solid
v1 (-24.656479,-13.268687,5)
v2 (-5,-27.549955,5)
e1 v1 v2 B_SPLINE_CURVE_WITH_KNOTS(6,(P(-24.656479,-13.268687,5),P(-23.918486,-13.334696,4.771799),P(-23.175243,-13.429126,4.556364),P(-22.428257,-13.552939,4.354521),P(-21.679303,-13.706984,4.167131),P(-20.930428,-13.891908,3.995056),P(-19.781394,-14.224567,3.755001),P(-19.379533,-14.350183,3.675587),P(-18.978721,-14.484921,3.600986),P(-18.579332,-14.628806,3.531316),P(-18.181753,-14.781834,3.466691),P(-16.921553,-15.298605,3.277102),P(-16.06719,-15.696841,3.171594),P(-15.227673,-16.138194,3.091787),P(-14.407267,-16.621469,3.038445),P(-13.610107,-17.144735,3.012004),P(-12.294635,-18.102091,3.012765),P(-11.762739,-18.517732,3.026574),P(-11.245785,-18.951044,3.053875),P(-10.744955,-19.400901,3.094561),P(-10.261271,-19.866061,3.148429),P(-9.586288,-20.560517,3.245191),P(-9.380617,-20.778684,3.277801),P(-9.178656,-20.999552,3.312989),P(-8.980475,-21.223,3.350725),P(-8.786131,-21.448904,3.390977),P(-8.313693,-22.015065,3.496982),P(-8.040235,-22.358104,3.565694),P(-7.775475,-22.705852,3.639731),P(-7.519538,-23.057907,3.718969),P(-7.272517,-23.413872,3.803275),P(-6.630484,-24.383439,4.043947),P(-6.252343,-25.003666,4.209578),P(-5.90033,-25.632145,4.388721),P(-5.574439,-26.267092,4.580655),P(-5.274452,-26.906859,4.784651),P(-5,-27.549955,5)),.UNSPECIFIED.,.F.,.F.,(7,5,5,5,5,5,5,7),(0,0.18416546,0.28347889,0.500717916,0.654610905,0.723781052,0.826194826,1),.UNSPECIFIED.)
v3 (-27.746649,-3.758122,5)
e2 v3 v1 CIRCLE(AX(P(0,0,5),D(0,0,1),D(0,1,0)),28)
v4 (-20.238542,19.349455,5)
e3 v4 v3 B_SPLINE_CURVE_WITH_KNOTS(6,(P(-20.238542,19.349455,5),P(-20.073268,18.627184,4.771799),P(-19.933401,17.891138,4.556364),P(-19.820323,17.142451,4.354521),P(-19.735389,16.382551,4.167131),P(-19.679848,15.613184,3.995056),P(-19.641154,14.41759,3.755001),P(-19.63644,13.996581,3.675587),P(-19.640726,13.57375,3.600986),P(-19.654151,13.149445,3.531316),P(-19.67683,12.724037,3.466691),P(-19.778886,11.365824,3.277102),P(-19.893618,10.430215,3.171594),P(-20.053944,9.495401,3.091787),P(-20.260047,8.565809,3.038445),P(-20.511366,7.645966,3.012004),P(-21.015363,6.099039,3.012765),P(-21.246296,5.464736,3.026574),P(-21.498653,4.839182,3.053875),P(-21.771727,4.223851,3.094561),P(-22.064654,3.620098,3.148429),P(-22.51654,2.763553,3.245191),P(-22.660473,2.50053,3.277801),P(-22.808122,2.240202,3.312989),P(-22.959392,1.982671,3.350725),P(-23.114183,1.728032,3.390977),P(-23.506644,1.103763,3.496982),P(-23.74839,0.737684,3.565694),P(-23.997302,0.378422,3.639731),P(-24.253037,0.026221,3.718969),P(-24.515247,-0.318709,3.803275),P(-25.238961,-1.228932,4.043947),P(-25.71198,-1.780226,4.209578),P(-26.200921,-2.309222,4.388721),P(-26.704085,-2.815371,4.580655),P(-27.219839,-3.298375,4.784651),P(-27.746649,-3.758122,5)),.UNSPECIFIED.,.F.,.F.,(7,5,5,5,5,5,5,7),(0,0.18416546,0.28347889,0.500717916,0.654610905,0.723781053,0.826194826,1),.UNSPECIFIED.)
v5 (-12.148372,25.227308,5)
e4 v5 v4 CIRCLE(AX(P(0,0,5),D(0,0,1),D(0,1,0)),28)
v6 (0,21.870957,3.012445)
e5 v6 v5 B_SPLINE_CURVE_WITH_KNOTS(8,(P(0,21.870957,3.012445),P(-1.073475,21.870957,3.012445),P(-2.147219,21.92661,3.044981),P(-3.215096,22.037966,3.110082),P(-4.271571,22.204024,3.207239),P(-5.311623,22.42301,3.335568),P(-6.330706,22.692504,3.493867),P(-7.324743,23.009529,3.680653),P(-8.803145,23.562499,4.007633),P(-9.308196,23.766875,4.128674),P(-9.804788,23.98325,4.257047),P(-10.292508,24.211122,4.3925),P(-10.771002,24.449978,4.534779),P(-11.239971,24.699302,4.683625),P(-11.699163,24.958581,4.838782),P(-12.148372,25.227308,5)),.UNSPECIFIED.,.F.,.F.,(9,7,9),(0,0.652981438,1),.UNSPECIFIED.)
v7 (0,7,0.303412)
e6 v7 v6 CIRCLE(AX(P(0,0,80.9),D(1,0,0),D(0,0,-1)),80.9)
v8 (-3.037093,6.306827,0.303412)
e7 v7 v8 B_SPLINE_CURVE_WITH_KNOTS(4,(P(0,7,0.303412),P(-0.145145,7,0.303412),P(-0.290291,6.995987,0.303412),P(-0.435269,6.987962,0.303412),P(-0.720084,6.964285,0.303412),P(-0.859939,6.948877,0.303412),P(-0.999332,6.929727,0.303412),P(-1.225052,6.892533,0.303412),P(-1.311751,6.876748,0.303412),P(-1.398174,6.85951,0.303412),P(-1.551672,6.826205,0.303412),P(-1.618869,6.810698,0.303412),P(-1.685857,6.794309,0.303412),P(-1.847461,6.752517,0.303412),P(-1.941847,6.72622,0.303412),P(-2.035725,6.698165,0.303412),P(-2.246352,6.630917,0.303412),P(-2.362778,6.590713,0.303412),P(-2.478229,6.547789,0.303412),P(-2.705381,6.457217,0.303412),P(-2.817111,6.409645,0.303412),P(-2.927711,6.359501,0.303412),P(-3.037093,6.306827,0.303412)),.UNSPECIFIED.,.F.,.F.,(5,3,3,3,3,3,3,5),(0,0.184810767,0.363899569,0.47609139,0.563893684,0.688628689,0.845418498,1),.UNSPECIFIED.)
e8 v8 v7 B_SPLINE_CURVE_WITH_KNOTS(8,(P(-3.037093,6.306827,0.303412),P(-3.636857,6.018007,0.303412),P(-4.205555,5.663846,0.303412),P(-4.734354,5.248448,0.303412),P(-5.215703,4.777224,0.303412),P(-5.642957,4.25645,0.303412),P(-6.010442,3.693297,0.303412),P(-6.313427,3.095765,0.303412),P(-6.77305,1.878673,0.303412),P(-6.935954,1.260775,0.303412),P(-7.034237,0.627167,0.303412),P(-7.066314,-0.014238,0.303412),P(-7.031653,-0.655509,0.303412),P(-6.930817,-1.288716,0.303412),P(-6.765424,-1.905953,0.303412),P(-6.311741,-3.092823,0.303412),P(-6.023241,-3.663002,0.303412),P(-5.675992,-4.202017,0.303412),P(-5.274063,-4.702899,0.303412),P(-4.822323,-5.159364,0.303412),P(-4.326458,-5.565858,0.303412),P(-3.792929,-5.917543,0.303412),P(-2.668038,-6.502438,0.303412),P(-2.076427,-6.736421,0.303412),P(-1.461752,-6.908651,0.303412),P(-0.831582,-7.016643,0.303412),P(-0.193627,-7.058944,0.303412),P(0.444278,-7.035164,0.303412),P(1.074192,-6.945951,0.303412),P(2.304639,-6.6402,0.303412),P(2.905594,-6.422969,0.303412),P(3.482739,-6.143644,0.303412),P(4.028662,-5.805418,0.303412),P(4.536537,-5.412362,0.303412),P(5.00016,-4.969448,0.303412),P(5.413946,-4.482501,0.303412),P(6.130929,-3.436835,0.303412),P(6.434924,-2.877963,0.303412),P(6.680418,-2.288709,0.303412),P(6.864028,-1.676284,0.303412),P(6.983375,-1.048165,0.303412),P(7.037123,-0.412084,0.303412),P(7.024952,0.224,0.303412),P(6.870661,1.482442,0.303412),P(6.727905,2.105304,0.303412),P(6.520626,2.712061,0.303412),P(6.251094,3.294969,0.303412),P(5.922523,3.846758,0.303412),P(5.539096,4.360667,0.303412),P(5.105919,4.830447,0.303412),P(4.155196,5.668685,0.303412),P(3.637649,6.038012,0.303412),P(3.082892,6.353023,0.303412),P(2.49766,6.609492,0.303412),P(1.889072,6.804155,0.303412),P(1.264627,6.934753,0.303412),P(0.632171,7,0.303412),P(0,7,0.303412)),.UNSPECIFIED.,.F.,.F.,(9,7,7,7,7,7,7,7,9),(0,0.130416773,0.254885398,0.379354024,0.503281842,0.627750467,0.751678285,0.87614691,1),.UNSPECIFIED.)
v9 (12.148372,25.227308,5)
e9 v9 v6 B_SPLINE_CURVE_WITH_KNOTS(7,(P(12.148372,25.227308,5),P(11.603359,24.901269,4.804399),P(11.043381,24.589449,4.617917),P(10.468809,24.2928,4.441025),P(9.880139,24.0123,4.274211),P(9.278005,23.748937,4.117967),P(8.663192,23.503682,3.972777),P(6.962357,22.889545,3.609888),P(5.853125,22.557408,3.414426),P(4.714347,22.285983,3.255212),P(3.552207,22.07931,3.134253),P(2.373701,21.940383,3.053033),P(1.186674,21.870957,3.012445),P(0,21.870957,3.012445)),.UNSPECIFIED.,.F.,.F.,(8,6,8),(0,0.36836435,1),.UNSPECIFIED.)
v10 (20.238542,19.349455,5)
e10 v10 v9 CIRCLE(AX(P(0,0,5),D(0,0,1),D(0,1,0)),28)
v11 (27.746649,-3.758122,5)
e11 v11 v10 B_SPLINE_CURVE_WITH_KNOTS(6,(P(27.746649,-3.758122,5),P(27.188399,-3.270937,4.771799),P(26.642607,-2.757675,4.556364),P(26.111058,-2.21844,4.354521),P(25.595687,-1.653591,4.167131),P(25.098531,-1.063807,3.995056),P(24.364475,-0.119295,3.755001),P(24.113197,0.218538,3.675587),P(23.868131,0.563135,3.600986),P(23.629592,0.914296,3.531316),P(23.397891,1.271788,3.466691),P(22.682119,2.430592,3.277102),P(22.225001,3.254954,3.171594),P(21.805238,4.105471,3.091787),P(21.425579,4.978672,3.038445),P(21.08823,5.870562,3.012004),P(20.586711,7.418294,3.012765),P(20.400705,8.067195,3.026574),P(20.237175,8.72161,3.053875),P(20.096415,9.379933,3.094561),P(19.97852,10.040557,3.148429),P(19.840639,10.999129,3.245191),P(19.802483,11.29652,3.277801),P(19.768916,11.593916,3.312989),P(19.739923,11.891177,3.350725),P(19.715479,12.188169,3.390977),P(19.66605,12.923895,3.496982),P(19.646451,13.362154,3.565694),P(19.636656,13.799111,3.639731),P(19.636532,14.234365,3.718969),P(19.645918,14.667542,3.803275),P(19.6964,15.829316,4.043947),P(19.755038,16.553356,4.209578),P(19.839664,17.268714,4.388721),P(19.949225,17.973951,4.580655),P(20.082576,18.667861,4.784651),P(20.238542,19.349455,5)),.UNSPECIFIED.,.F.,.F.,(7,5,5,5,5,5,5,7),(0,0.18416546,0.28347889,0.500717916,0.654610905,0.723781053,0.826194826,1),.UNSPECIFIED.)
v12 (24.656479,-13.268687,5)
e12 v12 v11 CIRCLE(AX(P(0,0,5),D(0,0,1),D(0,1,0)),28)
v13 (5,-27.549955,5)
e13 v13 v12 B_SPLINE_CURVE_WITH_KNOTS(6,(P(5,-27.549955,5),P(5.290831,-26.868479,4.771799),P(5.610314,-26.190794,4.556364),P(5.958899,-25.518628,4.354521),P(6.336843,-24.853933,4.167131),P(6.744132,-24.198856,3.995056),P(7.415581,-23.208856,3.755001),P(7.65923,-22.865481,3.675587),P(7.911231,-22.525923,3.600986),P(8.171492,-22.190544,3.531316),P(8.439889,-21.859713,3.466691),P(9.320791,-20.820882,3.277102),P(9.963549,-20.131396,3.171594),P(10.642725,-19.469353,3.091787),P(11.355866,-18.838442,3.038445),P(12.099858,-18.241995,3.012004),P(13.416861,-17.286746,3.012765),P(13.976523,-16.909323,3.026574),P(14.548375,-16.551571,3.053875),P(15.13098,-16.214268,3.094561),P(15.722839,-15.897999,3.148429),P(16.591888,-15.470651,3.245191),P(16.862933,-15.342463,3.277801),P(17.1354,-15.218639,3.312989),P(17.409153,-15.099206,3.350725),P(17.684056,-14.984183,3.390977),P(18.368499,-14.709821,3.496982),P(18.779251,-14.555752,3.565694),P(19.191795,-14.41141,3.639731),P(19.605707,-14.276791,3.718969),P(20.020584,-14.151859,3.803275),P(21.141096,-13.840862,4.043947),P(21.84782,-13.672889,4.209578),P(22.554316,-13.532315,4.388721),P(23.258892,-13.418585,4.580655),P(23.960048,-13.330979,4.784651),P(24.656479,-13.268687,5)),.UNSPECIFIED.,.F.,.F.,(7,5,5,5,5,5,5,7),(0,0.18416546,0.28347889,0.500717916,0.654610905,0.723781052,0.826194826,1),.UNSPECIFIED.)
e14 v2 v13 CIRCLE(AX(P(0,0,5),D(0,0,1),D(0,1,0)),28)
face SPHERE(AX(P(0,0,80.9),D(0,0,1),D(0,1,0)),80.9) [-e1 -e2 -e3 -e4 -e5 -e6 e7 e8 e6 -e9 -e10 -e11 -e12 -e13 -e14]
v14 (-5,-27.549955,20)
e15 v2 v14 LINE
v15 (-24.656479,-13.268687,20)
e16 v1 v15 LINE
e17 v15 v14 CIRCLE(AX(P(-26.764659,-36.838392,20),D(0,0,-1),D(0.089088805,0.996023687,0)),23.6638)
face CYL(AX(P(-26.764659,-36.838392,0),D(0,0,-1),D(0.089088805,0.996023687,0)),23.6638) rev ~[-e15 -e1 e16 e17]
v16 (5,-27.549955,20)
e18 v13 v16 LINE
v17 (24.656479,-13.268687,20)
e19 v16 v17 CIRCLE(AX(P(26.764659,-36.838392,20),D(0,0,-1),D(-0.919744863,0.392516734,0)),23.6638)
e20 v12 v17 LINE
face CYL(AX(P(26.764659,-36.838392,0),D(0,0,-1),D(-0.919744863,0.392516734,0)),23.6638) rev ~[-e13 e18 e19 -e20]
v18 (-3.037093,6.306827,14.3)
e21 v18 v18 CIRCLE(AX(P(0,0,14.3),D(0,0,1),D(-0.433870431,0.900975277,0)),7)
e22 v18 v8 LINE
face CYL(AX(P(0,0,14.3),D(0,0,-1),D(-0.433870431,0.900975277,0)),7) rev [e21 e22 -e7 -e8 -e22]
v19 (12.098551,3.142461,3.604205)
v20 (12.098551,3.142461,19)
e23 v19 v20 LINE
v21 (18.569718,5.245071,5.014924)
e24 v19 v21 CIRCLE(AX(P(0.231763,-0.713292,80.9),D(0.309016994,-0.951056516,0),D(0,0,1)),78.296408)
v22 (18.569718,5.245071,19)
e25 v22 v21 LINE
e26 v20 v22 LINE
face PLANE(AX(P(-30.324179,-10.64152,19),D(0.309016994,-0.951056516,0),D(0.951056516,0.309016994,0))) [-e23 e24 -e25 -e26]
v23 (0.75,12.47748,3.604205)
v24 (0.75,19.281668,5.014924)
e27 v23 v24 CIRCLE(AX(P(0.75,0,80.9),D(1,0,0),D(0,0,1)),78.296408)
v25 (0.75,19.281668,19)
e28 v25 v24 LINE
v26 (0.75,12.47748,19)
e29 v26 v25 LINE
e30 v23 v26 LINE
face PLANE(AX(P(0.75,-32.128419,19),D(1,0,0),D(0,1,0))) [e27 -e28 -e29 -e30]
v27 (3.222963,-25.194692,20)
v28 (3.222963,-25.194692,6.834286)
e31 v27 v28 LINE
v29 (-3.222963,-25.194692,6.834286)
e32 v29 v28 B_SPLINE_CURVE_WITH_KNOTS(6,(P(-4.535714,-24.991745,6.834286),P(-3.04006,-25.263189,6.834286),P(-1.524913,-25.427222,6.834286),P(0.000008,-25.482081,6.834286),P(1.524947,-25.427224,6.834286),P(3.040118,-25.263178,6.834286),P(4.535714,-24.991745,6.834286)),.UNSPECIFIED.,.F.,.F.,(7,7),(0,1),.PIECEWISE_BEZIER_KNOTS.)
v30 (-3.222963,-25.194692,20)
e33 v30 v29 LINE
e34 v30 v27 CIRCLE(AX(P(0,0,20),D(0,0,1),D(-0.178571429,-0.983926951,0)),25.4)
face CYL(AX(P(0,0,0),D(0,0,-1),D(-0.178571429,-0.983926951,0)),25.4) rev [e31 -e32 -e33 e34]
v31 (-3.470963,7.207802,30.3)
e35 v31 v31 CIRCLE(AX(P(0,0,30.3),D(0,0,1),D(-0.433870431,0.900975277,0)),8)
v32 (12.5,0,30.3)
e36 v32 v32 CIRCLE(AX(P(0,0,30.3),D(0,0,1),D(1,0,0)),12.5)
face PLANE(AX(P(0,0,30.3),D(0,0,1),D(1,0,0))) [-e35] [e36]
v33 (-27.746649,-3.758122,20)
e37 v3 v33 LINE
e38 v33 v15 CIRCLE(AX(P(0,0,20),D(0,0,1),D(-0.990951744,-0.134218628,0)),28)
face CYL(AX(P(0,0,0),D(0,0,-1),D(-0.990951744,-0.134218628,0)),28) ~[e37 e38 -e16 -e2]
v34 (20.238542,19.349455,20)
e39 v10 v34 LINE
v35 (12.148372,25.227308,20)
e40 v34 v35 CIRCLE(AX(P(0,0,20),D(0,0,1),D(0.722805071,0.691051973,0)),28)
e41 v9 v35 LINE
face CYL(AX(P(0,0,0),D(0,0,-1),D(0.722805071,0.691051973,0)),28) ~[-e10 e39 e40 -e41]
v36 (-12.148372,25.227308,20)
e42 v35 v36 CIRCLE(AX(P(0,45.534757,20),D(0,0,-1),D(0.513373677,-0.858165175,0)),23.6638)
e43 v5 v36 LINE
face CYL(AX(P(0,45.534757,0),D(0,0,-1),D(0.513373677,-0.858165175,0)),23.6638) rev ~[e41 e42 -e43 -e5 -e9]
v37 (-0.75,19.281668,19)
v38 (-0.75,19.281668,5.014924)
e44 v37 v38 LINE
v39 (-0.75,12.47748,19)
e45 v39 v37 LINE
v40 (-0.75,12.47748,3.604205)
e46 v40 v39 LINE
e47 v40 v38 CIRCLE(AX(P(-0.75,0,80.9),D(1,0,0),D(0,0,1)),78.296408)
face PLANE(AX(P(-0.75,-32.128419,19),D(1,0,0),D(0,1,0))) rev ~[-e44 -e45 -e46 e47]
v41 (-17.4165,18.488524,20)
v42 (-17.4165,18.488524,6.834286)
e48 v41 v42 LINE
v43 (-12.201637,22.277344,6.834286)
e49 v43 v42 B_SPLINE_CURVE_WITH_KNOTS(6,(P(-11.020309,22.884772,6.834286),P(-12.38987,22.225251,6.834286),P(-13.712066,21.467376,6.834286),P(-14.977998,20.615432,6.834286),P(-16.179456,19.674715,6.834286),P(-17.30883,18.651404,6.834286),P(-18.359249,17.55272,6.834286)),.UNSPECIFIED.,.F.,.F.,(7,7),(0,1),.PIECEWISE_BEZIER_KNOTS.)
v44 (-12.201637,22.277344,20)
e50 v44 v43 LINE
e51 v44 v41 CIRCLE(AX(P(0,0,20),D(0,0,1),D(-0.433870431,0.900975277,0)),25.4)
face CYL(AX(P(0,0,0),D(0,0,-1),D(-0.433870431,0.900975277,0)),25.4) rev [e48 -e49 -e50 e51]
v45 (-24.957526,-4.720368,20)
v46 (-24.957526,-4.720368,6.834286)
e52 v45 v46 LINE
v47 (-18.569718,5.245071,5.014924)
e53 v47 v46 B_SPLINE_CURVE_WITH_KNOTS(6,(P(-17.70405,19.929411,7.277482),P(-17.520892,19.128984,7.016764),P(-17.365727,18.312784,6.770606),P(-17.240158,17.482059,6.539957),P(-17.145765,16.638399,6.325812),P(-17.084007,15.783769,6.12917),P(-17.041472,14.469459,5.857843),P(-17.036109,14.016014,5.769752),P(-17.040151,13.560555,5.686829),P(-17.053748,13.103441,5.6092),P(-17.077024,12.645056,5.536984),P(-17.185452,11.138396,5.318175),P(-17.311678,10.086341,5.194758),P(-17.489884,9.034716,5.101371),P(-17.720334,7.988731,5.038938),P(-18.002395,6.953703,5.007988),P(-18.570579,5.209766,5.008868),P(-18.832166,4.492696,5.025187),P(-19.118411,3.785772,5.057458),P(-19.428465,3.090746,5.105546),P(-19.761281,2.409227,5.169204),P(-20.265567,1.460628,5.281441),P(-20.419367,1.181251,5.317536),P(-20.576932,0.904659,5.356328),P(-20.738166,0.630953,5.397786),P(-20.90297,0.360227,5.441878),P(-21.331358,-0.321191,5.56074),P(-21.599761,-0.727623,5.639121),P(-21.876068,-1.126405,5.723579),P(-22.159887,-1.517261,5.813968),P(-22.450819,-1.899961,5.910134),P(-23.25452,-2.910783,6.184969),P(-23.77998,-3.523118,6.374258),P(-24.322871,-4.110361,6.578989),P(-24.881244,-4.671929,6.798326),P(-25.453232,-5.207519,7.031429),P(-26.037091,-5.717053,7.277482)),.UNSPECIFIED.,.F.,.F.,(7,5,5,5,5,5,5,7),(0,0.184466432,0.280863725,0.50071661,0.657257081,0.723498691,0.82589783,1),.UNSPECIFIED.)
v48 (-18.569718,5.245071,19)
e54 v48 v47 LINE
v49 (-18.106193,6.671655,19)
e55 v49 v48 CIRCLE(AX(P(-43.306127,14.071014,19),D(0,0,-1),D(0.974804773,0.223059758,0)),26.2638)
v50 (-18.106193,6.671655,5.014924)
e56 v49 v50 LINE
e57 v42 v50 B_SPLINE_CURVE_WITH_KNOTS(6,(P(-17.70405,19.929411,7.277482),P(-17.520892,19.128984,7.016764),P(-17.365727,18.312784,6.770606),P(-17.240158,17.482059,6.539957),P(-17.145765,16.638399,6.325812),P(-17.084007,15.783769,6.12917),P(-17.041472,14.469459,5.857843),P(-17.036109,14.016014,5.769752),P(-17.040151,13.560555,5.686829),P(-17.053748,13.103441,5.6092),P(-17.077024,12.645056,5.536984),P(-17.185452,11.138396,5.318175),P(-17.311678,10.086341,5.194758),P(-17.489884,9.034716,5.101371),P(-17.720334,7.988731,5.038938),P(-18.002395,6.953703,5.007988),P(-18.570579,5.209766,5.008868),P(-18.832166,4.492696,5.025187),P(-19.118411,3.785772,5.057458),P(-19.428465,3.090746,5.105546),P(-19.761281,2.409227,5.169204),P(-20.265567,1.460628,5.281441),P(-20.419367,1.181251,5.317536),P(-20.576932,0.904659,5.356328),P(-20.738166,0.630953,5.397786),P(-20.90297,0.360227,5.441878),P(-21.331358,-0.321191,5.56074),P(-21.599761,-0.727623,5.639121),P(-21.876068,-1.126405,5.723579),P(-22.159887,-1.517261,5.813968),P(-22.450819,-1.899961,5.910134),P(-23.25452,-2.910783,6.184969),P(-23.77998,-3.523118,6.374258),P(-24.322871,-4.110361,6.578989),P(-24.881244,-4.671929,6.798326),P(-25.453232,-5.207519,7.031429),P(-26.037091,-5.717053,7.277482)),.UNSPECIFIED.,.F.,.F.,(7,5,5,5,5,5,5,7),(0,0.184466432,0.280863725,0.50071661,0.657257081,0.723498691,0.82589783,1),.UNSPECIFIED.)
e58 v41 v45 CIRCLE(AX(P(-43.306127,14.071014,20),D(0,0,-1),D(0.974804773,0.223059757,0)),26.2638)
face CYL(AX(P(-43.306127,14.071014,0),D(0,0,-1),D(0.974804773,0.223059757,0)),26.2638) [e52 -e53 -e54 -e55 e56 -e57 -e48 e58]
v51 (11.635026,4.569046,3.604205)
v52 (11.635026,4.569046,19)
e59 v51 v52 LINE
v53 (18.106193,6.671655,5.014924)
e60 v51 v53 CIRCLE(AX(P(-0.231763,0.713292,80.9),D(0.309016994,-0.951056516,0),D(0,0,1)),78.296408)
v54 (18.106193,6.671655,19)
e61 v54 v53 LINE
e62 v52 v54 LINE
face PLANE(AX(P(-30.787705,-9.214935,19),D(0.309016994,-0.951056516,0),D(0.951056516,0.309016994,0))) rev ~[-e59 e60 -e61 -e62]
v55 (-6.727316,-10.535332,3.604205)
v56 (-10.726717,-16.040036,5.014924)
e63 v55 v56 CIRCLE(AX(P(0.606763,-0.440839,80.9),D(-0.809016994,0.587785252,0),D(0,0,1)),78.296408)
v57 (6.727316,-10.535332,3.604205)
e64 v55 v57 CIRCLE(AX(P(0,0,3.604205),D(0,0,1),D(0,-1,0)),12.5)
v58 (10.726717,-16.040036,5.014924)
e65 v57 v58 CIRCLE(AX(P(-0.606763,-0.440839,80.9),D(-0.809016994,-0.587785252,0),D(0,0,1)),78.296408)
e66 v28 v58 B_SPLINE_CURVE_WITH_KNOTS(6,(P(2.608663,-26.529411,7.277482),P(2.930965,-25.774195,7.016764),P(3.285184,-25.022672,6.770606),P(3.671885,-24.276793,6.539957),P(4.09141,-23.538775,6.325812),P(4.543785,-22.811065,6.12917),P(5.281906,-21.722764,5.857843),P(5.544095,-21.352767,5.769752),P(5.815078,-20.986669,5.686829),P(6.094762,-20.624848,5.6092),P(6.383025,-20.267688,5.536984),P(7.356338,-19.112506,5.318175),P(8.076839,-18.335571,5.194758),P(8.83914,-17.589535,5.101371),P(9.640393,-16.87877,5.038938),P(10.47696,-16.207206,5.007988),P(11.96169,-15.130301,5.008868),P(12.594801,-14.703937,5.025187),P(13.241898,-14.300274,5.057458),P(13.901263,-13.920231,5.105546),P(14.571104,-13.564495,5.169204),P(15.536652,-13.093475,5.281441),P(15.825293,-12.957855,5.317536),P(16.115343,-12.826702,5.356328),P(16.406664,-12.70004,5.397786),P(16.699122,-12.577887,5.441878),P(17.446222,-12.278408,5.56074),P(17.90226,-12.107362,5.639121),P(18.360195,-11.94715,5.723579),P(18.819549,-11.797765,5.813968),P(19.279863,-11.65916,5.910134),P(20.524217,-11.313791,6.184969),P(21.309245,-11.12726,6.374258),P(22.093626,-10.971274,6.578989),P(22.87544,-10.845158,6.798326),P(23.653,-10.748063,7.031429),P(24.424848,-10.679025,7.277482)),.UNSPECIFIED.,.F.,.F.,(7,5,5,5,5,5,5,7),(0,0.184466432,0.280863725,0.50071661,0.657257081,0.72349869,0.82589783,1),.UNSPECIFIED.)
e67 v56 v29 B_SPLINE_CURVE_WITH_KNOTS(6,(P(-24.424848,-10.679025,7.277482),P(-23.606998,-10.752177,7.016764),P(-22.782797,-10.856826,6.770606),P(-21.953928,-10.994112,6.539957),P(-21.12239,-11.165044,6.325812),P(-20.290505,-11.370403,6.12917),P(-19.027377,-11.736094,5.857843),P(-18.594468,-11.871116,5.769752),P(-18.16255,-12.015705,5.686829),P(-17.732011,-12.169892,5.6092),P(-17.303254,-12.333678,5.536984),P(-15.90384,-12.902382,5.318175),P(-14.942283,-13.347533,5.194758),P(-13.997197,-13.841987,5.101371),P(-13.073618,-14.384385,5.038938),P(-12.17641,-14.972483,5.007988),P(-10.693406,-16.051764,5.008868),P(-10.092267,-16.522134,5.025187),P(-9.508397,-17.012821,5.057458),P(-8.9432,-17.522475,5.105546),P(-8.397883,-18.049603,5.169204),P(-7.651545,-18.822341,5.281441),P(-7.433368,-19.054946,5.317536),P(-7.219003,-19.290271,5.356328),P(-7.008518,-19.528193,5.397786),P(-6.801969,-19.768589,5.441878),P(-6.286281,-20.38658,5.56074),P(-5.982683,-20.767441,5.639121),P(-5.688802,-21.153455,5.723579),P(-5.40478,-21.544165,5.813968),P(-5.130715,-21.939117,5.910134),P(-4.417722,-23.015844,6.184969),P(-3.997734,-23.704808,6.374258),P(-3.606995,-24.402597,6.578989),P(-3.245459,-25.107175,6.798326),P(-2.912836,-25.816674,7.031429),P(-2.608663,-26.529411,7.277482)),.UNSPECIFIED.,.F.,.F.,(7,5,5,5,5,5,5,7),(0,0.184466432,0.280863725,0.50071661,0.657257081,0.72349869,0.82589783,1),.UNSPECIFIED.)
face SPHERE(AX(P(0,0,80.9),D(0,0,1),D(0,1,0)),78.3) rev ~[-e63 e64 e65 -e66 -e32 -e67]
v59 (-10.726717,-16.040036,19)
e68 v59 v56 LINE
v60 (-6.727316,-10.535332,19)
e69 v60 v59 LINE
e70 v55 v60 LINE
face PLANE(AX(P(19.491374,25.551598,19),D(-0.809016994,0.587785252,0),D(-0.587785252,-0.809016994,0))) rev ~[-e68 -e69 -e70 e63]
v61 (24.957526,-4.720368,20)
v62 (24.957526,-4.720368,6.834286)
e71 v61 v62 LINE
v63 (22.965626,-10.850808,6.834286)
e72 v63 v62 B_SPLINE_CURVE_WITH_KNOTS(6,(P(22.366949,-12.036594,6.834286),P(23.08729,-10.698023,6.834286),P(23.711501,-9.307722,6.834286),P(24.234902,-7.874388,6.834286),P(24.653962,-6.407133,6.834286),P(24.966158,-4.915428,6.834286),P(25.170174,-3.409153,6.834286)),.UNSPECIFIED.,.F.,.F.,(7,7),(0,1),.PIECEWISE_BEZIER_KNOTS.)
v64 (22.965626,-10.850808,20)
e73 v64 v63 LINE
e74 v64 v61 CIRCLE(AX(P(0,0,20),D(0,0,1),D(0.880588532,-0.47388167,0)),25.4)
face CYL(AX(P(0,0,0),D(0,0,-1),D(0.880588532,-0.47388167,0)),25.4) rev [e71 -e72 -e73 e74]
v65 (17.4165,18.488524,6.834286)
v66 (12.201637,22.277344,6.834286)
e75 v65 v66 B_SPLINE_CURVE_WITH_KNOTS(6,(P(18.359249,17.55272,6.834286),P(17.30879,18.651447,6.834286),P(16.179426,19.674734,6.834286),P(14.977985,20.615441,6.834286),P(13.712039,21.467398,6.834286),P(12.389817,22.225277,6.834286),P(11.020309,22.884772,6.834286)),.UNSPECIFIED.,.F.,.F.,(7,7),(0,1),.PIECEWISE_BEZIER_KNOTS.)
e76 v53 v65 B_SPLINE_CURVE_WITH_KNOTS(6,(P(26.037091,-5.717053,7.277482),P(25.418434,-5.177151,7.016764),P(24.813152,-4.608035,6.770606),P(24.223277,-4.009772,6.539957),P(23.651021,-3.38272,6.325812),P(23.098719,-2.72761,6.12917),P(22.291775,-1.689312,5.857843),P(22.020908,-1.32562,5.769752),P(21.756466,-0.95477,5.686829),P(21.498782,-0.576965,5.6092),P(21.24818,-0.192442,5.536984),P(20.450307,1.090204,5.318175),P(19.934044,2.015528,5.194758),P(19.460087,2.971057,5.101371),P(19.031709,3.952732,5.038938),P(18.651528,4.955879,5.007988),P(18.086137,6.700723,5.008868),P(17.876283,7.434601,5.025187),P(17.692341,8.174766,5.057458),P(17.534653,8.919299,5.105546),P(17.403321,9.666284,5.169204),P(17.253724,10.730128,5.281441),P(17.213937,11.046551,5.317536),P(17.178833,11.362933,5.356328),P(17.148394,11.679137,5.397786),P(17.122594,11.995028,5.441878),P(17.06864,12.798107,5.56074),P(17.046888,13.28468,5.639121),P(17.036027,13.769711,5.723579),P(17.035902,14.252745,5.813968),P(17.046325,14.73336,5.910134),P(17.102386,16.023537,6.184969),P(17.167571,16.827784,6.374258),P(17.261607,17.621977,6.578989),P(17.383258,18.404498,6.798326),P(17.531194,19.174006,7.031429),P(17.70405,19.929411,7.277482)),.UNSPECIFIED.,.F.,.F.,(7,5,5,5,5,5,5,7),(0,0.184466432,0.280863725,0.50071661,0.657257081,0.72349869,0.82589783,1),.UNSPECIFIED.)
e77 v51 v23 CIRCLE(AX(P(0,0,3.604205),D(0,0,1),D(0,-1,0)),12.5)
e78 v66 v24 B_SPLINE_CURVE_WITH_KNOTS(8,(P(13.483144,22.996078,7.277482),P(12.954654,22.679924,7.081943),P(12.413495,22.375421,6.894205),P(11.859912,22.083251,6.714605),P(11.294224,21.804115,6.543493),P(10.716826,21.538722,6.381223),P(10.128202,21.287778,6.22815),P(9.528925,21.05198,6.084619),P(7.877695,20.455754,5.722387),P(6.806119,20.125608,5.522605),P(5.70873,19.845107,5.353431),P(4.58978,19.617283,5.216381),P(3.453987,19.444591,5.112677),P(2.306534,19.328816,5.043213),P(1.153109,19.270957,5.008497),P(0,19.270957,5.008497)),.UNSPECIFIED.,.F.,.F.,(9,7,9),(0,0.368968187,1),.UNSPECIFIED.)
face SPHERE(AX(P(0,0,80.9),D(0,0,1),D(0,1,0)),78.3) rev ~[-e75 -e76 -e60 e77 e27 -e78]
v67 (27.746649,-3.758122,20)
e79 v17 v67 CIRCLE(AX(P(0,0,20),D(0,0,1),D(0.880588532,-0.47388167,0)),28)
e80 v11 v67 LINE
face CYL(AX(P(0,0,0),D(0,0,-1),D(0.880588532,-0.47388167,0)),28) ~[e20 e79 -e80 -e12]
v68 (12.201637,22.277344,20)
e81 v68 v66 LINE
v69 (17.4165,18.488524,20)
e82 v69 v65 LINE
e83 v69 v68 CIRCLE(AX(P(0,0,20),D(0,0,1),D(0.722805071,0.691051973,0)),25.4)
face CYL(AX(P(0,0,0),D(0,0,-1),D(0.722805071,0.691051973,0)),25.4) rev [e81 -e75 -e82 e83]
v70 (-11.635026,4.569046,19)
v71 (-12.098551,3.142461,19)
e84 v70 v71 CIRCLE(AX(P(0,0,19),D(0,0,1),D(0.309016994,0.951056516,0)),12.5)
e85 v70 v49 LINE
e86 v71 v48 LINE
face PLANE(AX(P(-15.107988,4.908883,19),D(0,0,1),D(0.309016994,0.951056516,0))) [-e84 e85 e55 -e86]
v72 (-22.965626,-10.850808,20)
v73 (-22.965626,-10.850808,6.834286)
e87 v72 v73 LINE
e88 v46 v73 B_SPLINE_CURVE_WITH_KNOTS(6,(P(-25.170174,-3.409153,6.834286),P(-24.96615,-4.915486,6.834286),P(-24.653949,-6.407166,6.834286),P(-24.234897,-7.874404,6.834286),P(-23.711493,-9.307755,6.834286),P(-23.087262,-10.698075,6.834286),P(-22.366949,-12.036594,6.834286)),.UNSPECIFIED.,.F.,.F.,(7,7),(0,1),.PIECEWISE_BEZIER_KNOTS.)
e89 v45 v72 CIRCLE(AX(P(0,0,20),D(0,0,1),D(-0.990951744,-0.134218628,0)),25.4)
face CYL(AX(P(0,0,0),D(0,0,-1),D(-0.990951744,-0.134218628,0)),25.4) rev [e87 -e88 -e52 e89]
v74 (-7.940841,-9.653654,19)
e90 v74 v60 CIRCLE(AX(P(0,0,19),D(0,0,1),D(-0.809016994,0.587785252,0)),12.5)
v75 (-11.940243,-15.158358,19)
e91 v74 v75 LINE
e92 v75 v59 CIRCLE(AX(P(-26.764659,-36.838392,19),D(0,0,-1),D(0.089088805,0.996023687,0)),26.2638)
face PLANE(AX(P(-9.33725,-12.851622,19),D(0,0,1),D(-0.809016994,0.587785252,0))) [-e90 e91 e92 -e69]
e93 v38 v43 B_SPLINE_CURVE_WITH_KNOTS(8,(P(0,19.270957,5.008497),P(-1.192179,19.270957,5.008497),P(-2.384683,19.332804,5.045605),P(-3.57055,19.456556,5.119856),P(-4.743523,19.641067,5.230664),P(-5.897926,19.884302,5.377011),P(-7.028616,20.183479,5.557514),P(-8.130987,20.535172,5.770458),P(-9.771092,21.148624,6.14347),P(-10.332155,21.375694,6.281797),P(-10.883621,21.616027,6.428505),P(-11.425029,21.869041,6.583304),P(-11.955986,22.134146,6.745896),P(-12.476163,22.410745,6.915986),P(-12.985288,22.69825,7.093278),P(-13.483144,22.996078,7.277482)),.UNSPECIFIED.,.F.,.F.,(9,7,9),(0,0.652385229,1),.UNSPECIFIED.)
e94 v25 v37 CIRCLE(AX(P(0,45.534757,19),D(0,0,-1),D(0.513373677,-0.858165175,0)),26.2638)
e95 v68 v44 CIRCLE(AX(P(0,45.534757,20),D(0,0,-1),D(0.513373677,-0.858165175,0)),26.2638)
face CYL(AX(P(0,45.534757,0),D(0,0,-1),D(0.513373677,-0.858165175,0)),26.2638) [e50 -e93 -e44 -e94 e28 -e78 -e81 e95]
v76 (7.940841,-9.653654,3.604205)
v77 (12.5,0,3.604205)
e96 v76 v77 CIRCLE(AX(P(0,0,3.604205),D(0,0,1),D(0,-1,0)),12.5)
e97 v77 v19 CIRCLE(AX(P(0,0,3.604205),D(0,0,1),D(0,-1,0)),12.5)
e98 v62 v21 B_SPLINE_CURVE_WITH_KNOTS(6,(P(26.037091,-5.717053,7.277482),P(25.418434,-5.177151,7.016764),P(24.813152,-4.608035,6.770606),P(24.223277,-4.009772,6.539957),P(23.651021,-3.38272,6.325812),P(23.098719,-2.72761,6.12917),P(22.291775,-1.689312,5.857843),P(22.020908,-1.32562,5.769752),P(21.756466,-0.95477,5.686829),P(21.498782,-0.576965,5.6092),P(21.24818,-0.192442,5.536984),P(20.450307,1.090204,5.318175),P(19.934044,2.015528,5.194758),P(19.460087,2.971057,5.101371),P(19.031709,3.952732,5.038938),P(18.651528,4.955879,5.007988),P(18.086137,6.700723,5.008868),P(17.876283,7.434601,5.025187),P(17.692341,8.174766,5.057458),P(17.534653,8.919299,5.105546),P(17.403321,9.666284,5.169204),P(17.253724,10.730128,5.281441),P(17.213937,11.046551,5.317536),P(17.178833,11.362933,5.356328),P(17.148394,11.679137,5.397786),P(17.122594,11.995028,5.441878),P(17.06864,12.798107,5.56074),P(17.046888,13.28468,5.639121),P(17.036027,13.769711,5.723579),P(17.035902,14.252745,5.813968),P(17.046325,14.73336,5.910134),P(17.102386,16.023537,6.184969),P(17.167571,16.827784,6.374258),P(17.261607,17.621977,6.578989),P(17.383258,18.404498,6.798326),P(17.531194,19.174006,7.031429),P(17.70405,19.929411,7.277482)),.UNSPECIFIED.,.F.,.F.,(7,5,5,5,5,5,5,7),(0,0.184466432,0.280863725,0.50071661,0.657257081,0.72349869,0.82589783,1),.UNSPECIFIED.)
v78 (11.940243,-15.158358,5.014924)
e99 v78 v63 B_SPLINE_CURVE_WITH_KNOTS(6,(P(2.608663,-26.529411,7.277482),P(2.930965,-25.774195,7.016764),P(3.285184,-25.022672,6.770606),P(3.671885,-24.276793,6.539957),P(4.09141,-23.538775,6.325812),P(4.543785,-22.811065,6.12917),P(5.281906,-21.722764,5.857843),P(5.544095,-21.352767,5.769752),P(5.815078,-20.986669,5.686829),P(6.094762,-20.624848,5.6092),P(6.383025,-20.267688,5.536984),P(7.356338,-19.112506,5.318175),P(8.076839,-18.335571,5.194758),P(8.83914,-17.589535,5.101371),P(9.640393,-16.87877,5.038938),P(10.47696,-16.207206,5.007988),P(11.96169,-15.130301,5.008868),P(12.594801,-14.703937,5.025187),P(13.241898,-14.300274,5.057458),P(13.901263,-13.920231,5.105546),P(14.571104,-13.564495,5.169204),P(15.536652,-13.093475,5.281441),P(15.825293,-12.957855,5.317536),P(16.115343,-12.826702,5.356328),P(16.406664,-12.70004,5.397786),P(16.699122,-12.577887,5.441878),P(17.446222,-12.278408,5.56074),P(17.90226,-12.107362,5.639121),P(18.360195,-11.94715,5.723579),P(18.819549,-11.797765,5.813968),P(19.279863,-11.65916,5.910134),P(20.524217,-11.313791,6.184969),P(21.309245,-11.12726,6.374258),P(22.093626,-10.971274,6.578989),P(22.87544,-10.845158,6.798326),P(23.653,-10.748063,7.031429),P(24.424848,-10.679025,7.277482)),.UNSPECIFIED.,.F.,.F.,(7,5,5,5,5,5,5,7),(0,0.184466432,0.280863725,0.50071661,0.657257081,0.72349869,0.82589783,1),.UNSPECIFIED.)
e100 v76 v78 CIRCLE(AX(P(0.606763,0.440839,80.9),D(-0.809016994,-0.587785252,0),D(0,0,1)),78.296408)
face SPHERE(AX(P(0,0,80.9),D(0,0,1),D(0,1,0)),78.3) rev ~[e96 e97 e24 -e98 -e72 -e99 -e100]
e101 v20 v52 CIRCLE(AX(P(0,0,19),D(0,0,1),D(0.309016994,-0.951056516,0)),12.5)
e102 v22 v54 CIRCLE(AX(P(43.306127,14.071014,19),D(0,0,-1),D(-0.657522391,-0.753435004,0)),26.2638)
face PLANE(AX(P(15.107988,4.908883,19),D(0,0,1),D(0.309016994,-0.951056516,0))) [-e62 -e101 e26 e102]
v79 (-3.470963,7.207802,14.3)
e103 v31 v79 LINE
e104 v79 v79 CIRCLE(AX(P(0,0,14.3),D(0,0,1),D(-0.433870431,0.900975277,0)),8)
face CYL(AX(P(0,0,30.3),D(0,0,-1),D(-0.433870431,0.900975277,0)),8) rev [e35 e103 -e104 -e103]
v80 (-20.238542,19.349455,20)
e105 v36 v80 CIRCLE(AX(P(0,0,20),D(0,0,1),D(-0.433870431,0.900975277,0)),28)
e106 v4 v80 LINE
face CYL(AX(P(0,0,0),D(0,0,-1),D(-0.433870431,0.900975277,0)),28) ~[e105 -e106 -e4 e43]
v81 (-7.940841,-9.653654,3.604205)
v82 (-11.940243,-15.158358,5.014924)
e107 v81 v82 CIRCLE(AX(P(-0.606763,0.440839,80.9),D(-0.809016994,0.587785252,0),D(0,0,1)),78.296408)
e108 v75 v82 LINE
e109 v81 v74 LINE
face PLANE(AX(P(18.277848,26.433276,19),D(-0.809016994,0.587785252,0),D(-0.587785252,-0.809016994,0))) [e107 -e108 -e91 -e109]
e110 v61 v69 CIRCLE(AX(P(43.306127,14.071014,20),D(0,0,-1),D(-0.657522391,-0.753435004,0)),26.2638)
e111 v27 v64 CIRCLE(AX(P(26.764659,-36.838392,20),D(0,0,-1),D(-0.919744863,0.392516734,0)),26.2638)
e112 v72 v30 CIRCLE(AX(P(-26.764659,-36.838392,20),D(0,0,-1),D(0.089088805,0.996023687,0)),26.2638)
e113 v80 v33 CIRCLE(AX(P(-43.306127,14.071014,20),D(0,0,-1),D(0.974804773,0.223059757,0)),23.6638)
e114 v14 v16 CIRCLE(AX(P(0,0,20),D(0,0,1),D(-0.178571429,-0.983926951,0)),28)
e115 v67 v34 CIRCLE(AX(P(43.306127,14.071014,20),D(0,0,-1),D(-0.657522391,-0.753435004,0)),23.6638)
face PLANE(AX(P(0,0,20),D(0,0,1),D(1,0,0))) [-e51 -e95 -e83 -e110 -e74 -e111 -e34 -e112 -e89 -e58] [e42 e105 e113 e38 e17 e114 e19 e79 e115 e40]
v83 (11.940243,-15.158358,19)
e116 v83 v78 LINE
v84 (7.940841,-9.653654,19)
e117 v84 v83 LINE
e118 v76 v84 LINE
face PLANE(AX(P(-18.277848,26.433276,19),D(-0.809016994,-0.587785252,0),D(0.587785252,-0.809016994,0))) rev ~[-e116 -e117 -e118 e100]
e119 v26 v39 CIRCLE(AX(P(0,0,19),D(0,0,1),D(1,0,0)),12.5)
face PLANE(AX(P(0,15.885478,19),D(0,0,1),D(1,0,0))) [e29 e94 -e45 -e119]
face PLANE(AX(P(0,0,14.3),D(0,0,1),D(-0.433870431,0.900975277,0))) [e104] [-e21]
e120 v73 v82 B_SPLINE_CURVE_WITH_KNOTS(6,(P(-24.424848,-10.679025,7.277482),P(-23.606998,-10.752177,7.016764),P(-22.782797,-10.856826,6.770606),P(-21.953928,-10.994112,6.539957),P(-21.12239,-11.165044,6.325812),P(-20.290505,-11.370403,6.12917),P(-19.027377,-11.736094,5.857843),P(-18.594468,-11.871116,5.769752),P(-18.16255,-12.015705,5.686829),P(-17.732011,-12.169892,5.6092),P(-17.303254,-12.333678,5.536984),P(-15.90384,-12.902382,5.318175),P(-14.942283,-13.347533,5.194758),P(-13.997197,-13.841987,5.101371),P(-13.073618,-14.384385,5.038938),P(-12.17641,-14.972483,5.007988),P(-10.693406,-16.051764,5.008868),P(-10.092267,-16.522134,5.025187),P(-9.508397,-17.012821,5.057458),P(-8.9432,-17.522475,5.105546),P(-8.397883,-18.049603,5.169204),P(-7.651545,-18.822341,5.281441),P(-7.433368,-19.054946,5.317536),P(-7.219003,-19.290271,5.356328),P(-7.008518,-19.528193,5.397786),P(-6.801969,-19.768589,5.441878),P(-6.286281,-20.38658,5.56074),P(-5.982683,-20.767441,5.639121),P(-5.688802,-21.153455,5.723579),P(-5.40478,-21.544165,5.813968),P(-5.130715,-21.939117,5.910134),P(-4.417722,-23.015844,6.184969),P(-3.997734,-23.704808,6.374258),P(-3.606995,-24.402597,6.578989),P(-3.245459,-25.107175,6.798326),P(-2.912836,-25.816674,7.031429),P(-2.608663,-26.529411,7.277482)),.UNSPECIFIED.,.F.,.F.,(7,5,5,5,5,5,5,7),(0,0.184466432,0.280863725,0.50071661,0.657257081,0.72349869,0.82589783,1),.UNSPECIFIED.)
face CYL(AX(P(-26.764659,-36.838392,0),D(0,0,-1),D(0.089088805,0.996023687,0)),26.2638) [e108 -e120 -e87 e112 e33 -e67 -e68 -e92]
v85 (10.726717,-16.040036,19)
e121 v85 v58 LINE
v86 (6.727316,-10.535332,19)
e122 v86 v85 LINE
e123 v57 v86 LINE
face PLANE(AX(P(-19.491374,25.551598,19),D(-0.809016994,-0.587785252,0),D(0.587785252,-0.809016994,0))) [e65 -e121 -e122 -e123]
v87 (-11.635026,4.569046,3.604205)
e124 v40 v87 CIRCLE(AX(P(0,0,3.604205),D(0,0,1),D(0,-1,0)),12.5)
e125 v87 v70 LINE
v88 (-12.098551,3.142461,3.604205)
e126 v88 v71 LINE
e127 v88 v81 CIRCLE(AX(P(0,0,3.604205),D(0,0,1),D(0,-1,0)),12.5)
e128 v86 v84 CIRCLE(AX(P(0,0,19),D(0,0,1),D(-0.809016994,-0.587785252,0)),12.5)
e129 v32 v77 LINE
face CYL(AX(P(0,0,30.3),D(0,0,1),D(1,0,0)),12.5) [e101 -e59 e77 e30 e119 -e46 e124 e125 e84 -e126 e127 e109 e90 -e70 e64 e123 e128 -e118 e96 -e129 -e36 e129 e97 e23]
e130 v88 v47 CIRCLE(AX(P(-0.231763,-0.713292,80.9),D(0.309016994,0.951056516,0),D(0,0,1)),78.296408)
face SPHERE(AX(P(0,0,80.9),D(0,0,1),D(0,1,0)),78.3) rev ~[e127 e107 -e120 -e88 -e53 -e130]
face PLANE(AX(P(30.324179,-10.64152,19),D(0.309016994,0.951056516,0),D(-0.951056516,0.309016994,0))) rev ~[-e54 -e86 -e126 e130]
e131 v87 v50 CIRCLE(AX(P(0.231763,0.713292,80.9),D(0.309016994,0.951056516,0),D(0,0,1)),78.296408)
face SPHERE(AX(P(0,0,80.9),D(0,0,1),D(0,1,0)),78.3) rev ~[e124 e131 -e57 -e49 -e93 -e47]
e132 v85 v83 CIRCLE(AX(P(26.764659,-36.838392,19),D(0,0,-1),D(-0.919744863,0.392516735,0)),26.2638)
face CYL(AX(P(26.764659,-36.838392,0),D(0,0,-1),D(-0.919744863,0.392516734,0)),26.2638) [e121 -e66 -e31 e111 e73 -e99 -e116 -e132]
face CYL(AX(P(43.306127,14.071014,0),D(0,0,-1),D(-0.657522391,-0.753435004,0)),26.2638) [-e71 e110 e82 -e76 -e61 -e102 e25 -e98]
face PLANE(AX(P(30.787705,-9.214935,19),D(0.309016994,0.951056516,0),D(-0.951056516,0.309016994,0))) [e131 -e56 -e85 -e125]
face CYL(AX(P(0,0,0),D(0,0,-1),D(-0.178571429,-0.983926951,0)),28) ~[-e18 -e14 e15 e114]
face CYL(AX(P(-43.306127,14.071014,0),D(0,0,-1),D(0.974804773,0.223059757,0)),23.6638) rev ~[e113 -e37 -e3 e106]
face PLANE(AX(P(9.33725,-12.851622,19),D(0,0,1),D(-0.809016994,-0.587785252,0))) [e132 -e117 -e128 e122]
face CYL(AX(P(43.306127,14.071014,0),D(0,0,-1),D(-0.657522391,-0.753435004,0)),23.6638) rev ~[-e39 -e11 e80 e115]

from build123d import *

# Parameters (mm, degrees)
BOSS_EXTRU_1_DEPTH           = 20
COQUE1_T                     = -2.6
BOSS_EXTRU_2_REACH           = 51.719
BOSS_EXTRU_2_END_RADIUS      = 78.3
ESQUISSE4_R                  = 12.5
NERVURE1_REACH               = 45.628
ESQUISSE6_WALLS_W            = 1.5
ESQUISSE6_WALLS_H            = 96.027794688
R_P_TITION_CIRCULAIRE1_COUNT = 5


with BuildPart() as part:
    # Esquisse1 → Boss.-Extru.1 (new body)
    with BuildSketch(Plane.XY):
        with BuildLine():
            ThreePointArc((-12.14837206, 25.22730775), (-16.457987064, 22.652475842), (-20.238542003, 19.349455227))
            ThreePointArc((-20.238542003, 19.349455227), (-20.800515992, 6.758497338), (-27.746648844, -3.758121593))
            ThreePointArc((-27.746648844, -3.758121593), (-26.629582456, -8.652475842), (-24.656478901, -13.268686756))
            ThreePointArc((-24.656478901, -13.268686756), (-12.855425866, -17.693975742), (-5, -27.549954628))
            ThreePointArc((-5, -27.549954628), (0, -28), (5, -27.549954628))
            ThreePointArc((5, -27.549954628), (12.855425866, -17.693975742), (24.656478901, -13.268686756))
            ThreePointArc((24.656478901, -13.268686756), (26.629582456, -8.652475842), (27.746648844, -3.758121593))
            ThreePointArc((27.746648844, -3.758121593), (20.800515992, 6.758497338), (20.238542003, 19.349455227))
            ThreePointArc((20.238542003, 19.349455227), (16.457987064, 22.652475842), (12.14837206, 25.22730775))
            ThreePointArc((12.14837206, 25.22730775), (0, 21.87095681), (-12.14837206, 25.22730775))
        make_face()
    extrude(amount=BOSS_EXTRU_1_DEPTH)

    # Esquisse3 → Enlèvement de matière-Révolution3 (revolve, cut)
    with BuildSketch(Plane(origin=(0, 0, 0), x_dir=(0, 0, -1), z_dir=(1, 0, 0)), mode=Mode.PRIVATE) as enl_vement_de_mati_re_r_volution3_sk:
        with BuildLine():
            Line((-5, -28), (3.997916613, -28))
            Line((3.997916613, -28), (3.997916613, 0))
            Line((3.997916613, 0), (0, 0))
            ThreePointArc((0, 0), (-1.259809141, -14.221462653), (-5, -28))
        make_face()
    revolve(enl_vement_de_mati_re_r_volution3_sk.sketch.rotate(Axis((0, 0, 0), (0, 0, 1)), 180), axis=Axis((0, 0, 0), (0, 0, 1)), mode=Mode.SUBTRACT)

    # Coque1
    coque1_openings = [part.faces().sort_by_distance(p)[0] for p in [
        (0, 0, 20),
    ]]
    offset(amount=COQUE1_T, openings=coque1_openings)

    # Boss.-Extru.2: up to this sphere (the profile starts inside it)
    boss_extru_2_end = Location((0, 0, 80.9)) * Sphere(BOSS_EXTRU_2_END_RADIUS, mode=Mode.PRIVATE)
    # Esquisse4 → Boss.-Extru.2 (add, up to the surface)
    with BuildSketch(Plane.XY.offset(30.3), mode=Mode.PRIVATE) as boss_extru_2_sk1:
        Circle(ESQUISSE4_R)
    boss_extru_2_tool1 = extrude(boss_extru_2_sk1.sketch, amount=-BOSS_EXTRU_2_REACH, mode=Mode.PRIVATE) & boss_extru_2_end
    add(boss_extru_2_tool1.solids().sort_by_distance((0, 0, 30.3))[0])

    # Esquisse5 → Enlèvement de matière-Révolution4 (revolve, cut)
    with BuildSketch(Plane(origin=(0, 0, 0), x_dir=(1, 0, 0), z_dir=(0, 1, 0)), mode=Mode.PRIVATE) as enl_vement_de_mati_re_r_volution4_sk:
        Polygon((0, -30.3), (8, -30.3), (8, -14.3), (7, -14.3), (7, 4.215006275), (0, 4.215006275), align=None)
    revolve(enl_vement_de_mati_re_r_volution4_sk.sketch.rotate(Axis((0, 0, 0), (0, 0, 1)), 115.713439389), axis=Axis((0, 0, 0), (0, 0, 1)), mode=Mode.SUBTRACT)

    # Esquisse6 walls → Nervure1 (add, up to next)
    with BuildSketch(Plane.XY.offset(19), mode=Mode.PRIVATE) as nervure1_sk1:
        with Locations((0, 15.885478405)):
            Rectangle(ESQUISSE6_WALLS_W, ESQUISSE6_WALLS_H)
    nervure1_tool1 = extrude(nervure1_sk1.sketch, amount=-NERVURE1_REACH, mode=Mode.PRIVATE) - part.part
    nervure1 = nervure1_tool1.solids().sort_by_distance((0, 15.885478405, 19))[0]
    add(nervure1)

    # Répétition circulaire1: Nervure1 ×5 about axis
    r_p_tition_circulaire1_axis = Axis((0, 0, 0), (0, 0, -1))
    for i in range(1, R_P_TITION_CIRCULAIRE1_COUNT):
        add(nervure1.rotate(r_p_tition_circulaire1_axis, i * 360 / R_P_TITION_CIRCULAIRE1_COUNT))


solid = part.part
